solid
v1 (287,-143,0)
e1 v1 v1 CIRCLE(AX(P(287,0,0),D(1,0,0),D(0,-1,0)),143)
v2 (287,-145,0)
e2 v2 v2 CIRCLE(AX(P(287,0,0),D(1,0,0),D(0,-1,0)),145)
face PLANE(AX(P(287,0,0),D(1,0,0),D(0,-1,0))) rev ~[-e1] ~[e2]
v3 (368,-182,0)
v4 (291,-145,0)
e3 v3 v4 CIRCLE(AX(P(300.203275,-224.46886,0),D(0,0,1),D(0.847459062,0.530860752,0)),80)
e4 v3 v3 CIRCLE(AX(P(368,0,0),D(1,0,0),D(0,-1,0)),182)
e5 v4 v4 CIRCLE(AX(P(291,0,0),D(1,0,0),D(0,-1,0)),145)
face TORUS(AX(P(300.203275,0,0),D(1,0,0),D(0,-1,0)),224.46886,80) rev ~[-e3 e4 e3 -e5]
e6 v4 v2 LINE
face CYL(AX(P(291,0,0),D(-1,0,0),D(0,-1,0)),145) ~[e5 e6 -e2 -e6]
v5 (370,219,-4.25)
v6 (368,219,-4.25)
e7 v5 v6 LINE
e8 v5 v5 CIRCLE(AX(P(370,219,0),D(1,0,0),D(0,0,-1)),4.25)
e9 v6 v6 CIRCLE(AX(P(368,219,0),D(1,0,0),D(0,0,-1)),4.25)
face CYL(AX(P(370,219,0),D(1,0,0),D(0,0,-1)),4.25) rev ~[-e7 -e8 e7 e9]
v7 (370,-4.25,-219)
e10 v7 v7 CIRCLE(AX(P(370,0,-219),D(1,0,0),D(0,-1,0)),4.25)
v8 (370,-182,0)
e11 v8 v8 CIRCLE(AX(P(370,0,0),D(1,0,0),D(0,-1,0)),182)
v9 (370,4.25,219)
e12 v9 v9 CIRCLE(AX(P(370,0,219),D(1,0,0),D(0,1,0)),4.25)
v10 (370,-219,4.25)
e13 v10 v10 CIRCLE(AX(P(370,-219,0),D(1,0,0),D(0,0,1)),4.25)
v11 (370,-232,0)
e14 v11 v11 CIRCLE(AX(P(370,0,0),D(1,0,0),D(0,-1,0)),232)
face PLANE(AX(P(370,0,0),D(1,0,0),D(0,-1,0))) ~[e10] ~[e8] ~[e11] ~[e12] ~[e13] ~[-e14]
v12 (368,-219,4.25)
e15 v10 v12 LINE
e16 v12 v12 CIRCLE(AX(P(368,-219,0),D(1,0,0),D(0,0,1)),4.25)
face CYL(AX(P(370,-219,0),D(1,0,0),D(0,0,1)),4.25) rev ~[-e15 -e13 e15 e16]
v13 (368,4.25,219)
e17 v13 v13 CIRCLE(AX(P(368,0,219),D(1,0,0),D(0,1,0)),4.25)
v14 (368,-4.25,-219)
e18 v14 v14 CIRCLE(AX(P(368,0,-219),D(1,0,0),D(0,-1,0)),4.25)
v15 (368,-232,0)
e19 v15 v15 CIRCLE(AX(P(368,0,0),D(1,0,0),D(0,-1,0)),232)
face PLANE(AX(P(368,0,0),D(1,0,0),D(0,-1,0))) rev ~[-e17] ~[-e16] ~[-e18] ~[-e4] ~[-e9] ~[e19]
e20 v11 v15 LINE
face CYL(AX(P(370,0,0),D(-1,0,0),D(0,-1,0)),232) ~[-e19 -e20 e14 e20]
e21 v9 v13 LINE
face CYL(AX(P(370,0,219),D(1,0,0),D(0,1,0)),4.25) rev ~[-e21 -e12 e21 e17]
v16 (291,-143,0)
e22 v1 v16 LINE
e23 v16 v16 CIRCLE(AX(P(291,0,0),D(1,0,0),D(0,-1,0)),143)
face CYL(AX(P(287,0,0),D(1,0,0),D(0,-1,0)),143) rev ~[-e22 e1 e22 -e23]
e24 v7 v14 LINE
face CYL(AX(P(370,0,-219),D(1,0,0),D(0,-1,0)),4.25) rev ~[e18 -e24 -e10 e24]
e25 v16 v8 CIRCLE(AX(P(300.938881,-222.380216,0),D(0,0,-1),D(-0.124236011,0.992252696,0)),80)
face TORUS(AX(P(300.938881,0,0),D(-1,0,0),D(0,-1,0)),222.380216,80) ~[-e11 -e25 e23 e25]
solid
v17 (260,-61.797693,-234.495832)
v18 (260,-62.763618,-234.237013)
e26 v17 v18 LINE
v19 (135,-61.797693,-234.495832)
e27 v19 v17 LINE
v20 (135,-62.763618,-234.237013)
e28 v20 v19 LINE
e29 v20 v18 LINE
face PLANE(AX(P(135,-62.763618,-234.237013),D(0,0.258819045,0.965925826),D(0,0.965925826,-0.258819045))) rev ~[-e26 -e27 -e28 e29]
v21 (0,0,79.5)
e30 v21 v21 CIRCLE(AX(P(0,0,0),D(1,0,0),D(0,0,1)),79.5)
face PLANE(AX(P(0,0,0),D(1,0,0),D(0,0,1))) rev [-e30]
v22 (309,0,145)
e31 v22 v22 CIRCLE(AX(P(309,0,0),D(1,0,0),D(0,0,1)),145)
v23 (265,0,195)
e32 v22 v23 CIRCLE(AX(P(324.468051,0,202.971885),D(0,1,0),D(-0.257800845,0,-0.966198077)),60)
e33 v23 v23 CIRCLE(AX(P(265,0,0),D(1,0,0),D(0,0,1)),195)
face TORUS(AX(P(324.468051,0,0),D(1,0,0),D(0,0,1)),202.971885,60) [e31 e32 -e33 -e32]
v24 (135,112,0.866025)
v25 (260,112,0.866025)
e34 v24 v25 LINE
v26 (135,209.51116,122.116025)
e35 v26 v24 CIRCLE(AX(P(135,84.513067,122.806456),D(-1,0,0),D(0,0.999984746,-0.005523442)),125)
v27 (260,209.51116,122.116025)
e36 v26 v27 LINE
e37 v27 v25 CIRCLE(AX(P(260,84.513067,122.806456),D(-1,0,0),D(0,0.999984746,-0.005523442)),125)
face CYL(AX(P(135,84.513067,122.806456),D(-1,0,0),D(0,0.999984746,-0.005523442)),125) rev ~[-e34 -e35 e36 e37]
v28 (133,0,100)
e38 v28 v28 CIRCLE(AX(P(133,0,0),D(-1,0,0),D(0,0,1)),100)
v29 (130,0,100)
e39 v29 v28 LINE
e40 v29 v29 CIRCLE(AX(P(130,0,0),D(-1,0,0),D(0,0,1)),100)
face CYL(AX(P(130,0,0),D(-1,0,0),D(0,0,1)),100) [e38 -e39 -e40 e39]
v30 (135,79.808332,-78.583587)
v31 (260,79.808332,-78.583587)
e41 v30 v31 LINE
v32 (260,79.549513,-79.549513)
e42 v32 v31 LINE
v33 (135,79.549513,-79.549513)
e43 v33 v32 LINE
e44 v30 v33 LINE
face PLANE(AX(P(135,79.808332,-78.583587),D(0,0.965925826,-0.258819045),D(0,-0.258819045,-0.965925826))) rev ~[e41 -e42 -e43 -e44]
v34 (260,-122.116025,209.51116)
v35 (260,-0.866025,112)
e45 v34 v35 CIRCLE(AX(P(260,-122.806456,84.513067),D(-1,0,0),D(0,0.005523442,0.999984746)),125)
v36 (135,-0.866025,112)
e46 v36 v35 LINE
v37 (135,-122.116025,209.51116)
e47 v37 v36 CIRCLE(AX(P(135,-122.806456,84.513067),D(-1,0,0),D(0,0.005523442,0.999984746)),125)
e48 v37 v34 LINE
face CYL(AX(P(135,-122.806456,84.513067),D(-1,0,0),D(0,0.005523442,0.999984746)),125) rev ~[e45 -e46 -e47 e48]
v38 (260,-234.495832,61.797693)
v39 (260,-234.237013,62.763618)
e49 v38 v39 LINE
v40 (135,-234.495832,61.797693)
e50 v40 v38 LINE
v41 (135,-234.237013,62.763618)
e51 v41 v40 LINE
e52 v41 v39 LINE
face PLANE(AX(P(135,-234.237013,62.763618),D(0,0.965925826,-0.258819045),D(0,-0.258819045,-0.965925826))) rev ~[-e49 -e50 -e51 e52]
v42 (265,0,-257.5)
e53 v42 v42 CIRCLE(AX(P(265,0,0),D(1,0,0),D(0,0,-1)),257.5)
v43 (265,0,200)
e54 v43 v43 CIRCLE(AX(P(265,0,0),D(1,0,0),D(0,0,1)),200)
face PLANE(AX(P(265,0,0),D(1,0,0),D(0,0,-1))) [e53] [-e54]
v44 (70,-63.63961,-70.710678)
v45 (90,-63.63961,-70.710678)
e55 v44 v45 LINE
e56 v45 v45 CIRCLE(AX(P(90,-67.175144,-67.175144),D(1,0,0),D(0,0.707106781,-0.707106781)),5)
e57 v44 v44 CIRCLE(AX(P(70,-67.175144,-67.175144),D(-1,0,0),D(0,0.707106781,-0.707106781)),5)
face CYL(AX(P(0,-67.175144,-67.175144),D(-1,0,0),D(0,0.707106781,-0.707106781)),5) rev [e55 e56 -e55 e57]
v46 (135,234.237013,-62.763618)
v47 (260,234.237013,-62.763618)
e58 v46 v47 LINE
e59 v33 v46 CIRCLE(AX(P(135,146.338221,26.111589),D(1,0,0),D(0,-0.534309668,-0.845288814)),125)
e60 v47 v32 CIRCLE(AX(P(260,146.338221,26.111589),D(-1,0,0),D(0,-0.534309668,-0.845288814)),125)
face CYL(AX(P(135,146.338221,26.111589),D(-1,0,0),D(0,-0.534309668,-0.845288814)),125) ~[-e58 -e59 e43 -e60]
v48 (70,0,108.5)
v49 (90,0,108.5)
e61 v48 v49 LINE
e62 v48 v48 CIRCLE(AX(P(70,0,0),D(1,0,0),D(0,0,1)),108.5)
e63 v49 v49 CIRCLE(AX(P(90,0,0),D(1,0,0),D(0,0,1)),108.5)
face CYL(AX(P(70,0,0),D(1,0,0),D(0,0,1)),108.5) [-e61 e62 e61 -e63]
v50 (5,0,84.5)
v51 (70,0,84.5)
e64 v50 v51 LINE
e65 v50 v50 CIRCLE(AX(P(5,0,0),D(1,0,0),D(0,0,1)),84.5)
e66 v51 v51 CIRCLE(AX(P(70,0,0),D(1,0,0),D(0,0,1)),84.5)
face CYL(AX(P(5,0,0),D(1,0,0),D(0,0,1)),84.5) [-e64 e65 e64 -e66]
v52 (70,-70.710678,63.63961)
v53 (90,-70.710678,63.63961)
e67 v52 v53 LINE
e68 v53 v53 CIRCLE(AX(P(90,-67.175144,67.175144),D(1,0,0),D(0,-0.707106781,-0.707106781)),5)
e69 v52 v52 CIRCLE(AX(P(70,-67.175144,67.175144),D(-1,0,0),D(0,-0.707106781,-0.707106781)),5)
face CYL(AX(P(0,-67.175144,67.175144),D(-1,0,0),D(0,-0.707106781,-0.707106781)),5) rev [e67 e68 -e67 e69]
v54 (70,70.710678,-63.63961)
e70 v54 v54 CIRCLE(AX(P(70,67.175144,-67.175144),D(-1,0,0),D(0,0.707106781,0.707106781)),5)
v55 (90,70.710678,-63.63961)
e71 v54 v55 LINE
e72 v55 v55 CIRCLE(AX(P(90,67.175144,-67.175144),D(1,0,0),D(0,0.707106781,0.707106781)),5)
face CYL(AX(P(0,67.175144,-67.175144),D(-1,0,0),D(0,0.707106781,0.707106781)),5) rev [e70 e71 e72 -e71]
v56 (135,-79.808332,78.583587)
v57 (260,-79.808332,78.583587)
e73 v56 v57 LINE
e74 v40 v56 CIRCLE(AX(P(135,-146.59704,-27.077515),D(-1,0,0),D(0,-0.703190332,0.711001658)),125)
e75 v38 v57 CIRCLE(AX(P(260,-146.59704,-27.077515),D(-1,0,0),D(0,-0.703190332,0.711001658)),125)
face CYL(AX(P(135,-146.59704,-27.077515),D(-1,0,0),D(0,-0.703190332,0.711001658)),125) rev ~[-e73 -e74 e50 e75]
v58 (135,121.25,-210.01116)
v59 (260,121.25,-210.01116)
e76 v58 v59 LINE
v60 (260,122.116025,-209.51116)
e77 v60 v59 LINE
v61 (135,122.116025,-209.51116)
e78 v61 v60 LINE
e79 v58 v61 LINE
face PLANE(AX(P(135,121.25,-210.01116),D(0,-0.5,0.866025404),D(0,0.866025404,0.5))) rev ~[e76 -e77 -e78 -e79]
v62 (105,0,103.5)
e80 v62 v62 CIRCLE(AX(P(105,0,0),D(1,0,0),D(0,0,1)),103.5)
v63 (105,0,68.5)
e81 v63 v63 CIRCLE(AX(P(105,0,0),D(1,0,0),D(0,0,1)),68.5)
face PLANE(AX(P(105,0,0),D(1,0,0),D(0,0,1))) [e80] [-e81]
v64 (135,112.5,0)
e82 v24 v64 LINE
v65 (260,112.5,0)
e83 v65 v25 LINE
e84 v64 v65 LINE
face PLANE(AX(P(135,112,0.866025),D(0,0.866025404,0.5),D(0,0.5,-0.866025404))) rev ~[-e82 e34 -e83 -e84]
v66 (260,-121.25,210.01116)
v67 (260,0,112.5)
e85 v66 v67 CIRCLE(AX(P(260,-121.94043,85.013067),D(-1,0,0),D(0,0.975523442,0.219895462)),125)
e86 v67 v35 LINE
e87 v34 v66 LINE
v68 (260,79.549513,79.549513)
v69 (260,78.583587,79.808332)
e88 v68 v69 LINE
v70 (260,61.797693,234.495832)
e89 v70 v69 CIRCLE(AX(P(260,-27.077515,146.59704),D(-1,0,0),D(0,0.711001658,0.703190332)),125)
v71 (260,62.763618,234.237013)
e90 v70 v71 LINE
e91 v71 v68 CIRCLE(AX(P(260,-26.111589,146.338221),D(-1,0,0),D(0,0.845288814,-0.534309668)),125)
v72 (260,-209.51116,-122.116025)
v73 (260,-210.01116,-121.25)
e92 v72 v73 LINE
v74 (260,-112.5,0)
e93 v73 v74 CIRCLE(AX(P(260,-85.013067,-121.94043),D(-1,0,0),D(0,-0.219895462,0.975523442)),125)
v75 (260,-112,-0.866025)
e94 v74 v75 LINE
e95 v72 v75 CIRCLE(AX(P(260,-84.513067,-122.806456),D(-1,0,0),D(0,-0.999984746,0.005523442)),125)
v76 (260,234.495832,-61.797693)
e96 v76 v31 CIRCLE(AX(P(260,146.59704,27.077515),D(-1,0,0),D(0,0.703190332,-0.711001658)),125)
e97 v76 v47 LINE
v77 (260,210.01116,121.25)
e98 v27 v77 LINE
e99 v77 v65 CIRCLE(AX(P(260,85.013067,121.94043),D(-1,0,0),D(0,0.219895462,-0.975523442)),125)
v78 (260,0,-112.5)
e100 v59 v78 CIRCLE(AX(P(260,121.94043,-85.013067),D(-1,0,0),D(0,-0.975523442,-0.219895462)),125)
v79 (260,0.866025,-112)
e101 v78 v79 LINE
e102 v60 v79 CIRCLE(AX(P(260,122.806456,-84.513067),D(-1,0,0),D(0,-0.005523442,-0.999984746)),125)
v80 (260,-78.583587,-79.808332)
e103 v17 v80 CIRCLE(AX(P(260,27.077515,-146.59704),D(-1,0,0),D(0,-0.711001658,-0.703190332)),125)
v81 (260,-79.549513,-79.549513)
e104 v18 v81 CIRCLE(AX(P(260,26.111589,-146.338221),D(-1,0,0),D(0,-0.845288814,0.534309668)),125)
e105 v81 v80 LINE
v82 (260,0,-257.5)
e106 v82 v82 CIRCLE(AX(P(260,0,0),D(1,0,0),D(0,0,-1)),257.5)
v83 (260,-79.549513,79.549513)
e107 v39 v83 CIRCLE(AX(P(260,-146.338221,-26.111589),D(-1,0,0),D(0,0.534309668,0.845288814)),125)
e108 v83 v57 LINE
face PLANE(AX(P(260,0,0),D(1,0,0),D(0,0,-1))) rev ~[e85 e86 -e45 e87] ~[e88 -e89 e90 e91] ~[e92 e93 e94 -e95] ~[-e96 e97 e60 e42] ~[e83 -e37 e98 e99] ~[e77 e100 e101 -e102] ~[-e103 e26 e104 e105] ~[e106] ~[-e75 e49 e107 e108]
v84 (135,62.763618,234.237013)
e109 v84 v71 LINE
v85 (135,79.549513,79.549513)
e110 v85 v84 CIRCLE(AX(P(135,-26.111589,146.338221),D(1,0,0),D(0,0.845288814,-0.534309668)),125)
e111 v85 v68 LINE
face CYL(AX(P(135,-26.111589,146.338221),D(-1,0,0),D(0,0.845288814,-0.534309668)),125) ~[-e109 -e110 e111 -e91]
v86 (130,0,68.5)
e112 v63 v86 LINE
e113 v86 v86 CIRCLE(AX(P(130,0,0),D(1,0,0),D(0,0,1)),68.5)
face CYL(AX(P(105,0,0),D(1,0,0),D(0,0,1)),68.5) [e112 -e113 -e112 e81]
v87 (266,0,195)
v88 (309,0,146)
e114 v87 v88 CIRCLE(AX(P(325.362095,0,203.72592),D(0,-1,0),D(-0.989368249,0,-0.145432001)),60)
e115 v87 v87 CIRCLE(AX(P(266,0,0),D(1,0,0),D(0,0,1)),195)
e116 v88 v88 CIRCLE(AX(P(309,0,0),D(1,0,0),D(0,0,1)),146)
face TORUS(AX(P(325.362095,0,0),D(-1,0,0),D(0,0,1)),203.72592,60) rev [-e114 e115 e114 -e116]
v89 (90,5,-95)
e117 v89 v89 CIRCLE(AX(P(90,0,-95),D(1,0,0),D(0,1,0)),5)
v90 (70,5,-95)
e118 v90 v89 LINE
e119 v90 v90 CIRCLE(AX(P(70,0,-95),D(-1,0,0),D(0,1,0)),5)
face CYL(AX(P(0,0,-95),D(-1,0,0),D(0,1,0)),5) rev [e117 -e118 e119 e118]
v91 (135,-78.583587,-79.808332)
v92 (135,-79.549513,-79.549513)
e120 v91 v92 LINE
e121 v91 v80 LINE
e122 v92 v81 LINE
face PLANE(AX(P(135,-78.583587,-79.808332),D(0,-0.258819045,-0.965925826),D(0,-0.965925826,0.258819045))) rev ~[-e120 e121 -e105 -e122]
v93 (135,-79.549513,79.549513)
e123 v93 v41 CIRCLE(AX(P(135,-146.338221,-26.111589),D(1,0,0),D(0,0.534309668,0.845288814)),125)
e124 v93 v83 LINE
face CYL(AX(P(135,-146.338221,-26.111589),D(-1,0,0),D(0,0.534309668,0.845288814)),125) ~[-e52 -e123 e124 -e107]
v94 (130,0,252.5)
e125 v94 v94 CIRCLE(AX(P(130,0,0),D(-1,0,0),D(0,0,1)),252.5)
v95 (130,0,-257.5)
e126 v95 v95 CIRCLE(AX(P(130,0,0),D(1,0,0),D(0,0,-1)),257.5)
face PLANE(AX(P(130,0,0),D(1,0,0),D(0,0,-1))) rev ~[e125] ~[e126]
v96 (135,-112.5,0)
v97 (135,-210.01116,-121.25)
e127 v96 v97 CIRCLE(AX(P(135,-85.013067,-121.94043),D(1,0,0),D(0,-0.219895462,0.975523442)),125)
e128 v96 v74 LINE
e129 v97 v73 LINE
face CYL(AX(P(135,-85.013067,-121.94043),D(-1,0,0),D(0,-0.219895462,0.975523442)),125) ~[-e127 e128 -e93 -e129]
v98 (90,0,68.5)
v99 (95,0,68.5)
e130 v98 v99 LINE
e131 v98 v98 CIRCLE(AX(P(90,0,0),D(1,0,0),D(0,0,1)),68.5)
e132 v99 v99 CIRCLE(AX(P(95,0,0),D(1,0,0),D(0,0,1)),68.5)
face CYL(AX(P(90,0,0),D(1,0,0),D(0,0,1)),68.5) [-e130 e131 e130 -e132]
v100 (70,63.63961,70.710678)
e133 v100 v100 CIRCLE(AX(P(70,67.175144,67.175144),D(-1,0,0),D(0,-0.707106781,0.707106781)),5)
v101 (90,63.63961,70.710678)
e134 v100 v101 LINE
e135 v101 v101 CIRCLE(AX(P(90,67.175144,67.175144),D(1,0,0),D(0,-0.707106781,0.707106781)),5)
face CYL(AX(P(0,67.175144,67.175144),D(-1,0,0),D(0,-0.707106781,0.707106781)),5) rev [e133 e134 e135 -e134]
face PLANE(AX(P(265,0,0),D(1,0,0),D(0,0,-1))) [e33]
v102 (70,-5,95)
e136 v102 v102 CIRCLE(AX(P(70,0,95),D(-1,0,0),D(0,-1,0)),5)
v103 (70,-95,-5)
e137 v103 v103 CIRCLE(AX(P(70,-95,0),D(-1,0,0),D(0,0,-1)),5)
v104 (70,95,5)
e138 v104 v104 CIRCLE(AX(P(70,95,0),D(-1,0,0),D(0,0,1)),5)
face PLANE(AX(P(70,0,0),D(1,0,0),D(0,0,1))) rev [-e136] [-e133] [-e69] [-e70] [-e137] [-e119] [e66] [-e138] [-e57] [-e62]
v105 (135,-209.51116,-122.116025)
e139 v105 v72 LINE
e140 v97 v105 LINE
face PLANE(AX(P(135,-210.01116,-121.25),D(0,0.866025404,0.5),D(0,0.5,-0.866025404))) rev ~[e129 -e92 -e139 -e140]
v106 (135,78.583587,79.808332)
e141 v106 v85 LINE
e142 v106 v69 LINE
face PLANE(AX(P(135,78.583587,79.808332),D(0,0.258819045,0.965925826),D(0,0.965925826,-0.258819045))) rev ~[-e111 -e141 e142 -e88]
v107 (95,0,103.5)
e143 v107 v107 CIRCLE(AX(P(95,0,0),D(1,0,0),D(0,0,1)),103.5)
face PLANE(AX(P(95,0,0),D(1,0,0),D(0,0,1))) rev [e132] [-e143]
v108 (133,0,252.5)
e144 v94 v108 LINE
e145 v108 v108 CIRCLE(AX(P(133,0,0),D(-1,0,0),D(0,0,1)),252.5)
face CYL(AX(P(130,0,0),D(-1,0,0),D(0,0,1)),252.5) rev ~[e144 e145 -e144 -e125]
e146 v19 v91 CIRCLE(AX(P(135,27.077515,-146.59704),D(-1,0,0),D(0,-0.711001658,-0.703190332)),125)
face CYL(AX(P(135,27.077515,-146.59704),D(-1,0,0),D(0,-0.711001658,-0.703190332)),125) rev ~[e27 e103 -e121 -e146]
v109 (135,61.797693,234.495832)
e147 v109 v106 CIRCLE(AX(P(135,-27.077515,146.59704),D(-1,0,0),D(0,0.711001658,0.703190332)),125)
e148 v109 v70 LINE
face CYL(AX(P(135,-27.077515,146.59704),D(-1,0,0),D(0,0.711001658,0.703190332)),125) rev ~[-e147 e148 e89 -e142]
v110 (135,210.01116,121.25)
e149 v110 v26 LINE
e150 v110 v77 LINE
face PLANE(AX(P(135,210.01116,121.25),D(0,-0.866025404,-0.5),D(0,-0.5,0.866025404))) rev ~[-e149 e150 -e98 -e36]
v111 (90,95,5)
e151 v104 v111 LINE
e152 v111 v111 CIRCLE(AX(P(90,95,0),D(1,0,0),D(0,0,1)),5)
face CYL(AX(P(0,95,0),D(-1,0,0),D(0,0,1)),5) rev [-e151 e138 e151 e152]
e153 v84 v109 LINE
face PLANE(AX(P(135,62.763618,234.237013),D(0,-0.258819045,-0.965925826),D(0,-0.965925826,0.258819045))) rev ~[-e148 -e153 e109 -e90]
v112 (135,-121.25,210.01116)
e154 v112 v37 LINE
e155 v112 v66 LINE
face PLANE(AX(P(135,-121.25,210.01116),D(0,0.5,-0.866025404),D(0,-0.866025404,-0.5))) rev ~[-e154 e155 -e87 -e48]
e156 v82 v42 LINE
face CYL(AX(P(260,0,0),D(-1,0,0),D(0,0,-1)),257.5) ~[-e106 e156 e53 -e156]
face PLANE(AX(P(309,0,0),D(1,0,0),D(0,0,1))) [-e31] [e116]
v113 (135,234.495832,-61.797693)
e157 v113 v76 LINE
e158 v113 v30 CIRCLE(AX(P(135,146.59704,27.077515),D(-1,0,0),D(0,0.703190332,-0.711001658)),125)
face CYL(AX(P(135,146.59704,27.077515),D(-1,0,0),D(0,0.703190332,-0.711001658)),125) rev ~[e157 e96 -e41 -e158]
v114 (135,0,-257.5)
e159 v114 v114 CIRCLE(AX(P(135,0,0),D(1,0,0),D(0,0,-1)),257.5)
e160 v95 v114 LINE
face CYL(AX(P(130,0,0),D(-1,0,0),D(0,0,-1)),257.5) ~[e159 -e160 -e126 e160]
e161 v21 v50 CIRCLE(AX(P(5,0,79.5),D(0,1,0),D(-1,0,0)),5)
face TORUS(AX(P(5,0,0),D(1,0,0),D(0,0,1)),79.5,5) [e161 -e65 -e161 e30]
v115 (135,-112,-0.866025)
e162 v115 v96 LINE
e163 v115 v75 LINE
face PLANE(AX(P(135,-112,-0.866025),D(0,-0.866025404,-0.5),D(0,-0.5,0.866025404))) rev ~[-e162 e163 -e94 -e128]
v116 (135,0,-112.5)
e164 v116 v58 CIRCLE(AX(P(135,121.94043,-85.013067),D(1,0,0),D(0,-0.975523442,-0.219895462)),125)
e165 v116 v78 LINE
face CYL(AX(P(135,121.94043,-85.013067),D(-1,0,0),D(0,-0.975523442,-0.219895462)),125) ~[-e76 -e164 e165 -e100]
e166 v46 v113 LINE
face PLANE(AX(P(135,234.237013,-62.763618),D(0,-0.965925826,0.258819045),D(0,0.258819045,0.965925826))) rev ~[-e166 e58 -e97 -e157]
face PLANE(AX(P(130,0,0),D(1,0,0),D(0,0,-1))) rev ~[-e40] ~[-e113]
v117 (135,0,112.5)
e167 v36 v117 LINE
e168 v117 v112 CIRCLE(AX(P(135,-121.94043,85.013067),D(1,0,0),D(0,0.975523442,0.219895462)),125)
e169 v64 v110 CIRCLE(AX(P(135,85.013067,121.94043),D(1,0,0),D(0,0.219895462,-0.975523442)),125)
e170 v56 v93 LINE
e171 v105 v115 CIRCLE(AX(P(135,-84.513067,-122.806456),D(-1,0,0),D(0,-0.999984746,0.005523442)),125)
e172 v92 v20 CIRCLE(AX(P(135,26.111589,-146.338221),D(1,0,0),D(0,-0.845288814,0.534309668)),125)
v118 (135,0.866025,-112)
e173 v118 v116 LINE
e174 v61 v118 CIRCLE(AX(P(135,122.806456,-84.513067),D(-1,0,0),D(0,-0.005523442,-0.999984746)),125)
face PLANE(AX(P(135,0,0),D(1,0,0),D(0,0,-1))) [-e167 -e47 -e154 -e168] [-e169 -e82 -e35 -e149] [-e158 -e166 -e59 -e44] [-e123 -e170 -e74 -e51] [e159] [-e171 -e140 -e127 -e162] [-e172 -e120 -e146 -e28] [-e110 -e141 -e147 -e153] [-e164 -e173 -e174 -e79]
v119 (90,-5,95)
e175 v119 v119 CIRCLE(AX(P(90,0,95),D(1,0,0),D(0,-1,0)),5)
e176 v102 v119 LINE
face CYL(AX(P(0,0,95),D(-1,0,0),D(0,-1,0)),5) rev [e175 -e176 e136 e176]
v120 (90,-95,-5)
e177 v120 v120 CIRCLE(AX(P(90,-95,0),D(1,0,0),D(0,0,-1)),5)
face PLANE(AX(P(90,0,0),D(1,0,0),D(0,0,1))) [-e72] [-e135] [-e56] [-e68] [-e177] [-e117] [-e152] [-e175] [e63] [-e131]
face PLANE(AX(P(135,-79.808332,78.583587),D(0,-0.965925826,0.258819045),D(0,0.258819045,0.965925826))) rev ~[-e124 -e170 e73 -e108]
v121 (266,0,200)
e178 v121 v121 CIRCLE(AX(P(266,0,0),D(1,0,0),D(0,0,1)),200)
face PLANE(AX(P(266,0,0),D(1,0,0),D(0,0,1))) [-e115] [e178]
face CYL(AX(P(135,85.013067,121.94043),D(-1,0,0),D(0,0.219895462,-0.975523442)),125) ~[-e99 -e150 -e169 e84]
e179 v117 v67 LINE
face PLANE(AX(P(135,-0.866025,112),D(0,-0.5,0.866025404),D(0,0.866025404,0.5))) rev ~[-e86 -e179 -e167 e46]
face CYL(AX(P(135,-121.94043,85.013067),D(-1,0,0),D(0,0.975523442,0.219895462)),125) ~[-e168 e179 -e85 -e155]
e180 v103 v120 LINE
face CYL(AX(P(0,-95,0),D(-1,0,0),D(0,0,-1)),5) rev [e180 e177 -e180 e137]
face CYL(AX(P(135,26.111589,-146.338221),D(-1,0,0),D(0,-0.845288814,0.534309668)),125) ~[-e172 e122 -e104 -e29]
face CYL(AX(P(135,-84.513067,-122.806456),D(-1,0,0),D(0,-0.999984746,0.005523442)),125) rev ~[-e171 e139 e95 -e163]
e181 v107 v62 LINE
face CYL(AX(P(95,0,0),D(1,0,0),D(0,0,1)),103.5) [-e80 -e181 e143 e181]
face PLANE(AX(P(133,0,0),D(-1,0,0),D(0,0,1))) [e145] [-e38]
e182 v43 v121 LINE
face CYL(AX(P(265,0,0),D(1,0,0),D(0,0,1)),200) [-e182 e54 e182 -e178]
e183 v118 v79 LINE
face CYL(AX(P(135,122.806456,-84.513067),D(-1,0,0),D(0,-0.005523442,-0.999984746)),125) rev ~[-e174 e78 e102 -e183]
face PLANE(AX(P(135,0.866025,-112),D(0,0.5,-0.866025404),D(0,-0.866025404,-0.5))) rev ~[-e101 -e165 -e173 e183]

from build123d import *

# Parameters (mm, degrees)
SKETCH2_R         = 257.5
EXTRUDE1_DEPTH    = 5
SKETCH9_R         = 252.5
SKETCH9_R_2       = 100
EXTRUDE7_DEPTH    = 3
SKETCH3_R         = 257.5
EXTRUDE2_DEPTH    = 5
EXTRUDE3_DEPTH    = 130
CIRPATTERN1_COUNT = 8
SKETCH7_R         = 4.25
EXTRUDE5_DEPTH    = 5
CIRPATTERN2_COUNT = 4
SKETCH8_R         = 5
EXTRUDE6_DEPTH    = 90
CIRPATTERN3_COUNT = 8


with BuildPart() as part:
    # Sketch1 → Revolve1 (revolve)
    with BuildSketch(Plane.XY, mode=Mode.PRIVATE) as revolve1_sk:
        with BuildLine():
            Line((0, 0), (0, 79.5))
            ThreePointArc((0, 79.5), (1.464466094, 83.035533906), (5, 84.5))
            Line((5, 84.5), (70, 84.5))
            Line((70, 84.5), (70, 108.5))
            Line((70, 108.5), (90, 108.5))
            Line((90, 108.5), (90, 68.5))
            Line((90, 68.5), (95, 68.5))
            Line((95, 68.5), (95, 103.5))
            Line((95, 103.5), (105, 103.5))
            Line((105, 103.5), (105, 68.5))
            Line((105, 68.5), (130, 68.5))
            Line((130, 68.5), (130, 0))
            Line((130, 0), (0, 0))
        make_face()
    revolve(revolve1_sk.sketch.rotate(Axis((0, 0, 0), (1, 0, 0)), 90), axis=Axis((0, 0, 0), (1, 0, 0)))

    # Sketch2 → Extrude1 (add)
    with BuildSketch(Plane(origin=(130, 0, 0), x_dir=(0, 0, -1), z_dir=(1, 0, 0))):
        Circle(SKETCH2_R)
    extrude(amount=EXTRUDE1_DEPTH)

    # Sketch9 → Extrude7 (cut)
    with BuildSketch(Plane.ZY.offset(-130)):
        Circle(SKETCH9_R)
        Circle(SKETCH9_R_2, mode=Mode.SUBTRACT)
    extrude(amount=-EXTRUDE7_DEPTH, mode=Mode.SUBTRACT)



with BuildPart() as body_2:
    # Sketch3 → Extrude2 (new body)
    with BuildSketch(Plane(origin=(260, 0, 0), x_dir=(0, 0, -1), z_dir=(1, 0, 0))):
        Circle(SKETCH3_R)
    extrude(amount=EXTRUDE2_DEPTH)


with BuildPart() as part_1:
    add(part.part)

    add(body_2.part)  # Extrude3 merges body 2
    # Sketch4 → Extrude3 (add)
    with BuildSketch(Plane(origin=(135, 0, 0), x_dir=(0, 0, -1), z_dir=(1, 0, 0))):
        with BuildLine():
            Line((-121.25, 210.011160418), (-122.116025404, 209.511160418))
            ThreePointArc((-122.116025404, 209.511160418), (-44.469436379, 181.921031018), (-0.866025404, 112))
            Line((-0.866025404, 112), (0, 112.5))
            ThreePointArc((0, 112.5), (-43.603410976, 182.421031018), (-121.25, 210.011160418))
        make_face()
    extrude3 = extrude(amount=EXTRUDE3_DEPTH)

    # CirPattern1: Extrude3 ×8 about axis
    cirpattern1_axis = Axis((0, 0, 0), (1, 0, 0))
    for i in range(1, CIRPATTERN1_COUNT):
        add(extrude3.rotate(cirpattern1_axis, i * 360 / CIRPATTERN1_COUNT))

    # Sketch5 → Revolve2 (revolve)
    with BuildSketch(Plane.XY, mode=Mode.PRIVATE) as revolve2_sk:
        with BuildLine():
            Line((265, 200), (266, 200))
            Line((266, 200), (266, 195))
            ThreePointArc((266, 195), (280.264553623, 164.150526649), (309, 146))
            Line((309, 146), (309, 145))
            ThreePointArc((309, 145), (279.425239697, 163.334210933), (265, 195))
            Line((265, 195), (265, 200))
        make_face()
    revolve(revolve2_sk.sketch.rotate(Axis((0, 0, 0), (1, 0, 0)), 90), axis=Axis((0, 0, 0), (1, 0, 0)))

    # Sketch8 → Extrude6 (cut)
    with BuildSketch(Plane(origin=(0, 0, 0), x_dir=(0, 0, -1), z_dir=(1, 0, 0))):
        with Locations(Location((0, 95, 0), (0, 0, 180))):
            Circle(SKETCH8_R)
    extrude6 = extrude(amount=EXTRUDE6_DEPTH, mode=Mode.SUBTRACT)

    # CirPattern3: Extrude6 ×8 about axis
    cirpattern3_axis = Axis((0, 0, 0), (1, 0, 0))
    for i in range(1, CIRPATTERN3_COUNT):
        add(extrude6.rotate(cirpattern3_axis, i * 360 / CIRPATTERN3_COUNT), mode=Mode.SUBTRACT)


with BuildPart() as body_2_2:
    # Sketch6 → Revolve3 (revolve)
    with BuildSketch(Plane.XY, mode=Mode.PRIVATE) as revolve3_sk:
        with BuildLine():
            Line((370, 232), (368, 232))
            Line((368, 232), (368, 182))
            ThreePointArc((368, 182), (334.85220133, 152.361635071), (291, 145))
            Line((291, 145), (287, 145))
            Line((287, 145), (287, 143))
            Line((287, 143), (291, 143))
            ThreePointArc((291, 143), (336.352293074, 150.645355054), (370, 182))
            Line((370, 182), (370, 232))
        make_face()
    revolve(revolve3_sk.sketch.rotate(Axis((0, 0, 0), (1, 0, 0)), 180), axis=Axis((0, 0, 0), (1, 0, 0)))

    # Sketch7 → Extrude5 (cut)
    with BuildSketch(Plane(origin=(370, 0, 0), x_dir=(0, 0, -1), z_dir=(1, 0, 0))):
        with Locations((0, 219)):
            Circle(SKETCH7_R)
    extrude5 = extrude(amount=-EXTRUDE5_DEPTH, mode=Mode.SUBTRACT)

    # CirPattern2: Extrude5 ×4 about axis
    cirpattern2_axis = Axis((0, 0, 0), (1, 0, 0))
    for i in range(1, CIRPATTERN2_COUNT):
        add(extrude5.rotate(cirpattern2_axis, i * 360 / CIRPATTERN2_COUNT), mode=Mode.SUBTRACT)


solid = Compound([part_1.part, body_2_2.part])
